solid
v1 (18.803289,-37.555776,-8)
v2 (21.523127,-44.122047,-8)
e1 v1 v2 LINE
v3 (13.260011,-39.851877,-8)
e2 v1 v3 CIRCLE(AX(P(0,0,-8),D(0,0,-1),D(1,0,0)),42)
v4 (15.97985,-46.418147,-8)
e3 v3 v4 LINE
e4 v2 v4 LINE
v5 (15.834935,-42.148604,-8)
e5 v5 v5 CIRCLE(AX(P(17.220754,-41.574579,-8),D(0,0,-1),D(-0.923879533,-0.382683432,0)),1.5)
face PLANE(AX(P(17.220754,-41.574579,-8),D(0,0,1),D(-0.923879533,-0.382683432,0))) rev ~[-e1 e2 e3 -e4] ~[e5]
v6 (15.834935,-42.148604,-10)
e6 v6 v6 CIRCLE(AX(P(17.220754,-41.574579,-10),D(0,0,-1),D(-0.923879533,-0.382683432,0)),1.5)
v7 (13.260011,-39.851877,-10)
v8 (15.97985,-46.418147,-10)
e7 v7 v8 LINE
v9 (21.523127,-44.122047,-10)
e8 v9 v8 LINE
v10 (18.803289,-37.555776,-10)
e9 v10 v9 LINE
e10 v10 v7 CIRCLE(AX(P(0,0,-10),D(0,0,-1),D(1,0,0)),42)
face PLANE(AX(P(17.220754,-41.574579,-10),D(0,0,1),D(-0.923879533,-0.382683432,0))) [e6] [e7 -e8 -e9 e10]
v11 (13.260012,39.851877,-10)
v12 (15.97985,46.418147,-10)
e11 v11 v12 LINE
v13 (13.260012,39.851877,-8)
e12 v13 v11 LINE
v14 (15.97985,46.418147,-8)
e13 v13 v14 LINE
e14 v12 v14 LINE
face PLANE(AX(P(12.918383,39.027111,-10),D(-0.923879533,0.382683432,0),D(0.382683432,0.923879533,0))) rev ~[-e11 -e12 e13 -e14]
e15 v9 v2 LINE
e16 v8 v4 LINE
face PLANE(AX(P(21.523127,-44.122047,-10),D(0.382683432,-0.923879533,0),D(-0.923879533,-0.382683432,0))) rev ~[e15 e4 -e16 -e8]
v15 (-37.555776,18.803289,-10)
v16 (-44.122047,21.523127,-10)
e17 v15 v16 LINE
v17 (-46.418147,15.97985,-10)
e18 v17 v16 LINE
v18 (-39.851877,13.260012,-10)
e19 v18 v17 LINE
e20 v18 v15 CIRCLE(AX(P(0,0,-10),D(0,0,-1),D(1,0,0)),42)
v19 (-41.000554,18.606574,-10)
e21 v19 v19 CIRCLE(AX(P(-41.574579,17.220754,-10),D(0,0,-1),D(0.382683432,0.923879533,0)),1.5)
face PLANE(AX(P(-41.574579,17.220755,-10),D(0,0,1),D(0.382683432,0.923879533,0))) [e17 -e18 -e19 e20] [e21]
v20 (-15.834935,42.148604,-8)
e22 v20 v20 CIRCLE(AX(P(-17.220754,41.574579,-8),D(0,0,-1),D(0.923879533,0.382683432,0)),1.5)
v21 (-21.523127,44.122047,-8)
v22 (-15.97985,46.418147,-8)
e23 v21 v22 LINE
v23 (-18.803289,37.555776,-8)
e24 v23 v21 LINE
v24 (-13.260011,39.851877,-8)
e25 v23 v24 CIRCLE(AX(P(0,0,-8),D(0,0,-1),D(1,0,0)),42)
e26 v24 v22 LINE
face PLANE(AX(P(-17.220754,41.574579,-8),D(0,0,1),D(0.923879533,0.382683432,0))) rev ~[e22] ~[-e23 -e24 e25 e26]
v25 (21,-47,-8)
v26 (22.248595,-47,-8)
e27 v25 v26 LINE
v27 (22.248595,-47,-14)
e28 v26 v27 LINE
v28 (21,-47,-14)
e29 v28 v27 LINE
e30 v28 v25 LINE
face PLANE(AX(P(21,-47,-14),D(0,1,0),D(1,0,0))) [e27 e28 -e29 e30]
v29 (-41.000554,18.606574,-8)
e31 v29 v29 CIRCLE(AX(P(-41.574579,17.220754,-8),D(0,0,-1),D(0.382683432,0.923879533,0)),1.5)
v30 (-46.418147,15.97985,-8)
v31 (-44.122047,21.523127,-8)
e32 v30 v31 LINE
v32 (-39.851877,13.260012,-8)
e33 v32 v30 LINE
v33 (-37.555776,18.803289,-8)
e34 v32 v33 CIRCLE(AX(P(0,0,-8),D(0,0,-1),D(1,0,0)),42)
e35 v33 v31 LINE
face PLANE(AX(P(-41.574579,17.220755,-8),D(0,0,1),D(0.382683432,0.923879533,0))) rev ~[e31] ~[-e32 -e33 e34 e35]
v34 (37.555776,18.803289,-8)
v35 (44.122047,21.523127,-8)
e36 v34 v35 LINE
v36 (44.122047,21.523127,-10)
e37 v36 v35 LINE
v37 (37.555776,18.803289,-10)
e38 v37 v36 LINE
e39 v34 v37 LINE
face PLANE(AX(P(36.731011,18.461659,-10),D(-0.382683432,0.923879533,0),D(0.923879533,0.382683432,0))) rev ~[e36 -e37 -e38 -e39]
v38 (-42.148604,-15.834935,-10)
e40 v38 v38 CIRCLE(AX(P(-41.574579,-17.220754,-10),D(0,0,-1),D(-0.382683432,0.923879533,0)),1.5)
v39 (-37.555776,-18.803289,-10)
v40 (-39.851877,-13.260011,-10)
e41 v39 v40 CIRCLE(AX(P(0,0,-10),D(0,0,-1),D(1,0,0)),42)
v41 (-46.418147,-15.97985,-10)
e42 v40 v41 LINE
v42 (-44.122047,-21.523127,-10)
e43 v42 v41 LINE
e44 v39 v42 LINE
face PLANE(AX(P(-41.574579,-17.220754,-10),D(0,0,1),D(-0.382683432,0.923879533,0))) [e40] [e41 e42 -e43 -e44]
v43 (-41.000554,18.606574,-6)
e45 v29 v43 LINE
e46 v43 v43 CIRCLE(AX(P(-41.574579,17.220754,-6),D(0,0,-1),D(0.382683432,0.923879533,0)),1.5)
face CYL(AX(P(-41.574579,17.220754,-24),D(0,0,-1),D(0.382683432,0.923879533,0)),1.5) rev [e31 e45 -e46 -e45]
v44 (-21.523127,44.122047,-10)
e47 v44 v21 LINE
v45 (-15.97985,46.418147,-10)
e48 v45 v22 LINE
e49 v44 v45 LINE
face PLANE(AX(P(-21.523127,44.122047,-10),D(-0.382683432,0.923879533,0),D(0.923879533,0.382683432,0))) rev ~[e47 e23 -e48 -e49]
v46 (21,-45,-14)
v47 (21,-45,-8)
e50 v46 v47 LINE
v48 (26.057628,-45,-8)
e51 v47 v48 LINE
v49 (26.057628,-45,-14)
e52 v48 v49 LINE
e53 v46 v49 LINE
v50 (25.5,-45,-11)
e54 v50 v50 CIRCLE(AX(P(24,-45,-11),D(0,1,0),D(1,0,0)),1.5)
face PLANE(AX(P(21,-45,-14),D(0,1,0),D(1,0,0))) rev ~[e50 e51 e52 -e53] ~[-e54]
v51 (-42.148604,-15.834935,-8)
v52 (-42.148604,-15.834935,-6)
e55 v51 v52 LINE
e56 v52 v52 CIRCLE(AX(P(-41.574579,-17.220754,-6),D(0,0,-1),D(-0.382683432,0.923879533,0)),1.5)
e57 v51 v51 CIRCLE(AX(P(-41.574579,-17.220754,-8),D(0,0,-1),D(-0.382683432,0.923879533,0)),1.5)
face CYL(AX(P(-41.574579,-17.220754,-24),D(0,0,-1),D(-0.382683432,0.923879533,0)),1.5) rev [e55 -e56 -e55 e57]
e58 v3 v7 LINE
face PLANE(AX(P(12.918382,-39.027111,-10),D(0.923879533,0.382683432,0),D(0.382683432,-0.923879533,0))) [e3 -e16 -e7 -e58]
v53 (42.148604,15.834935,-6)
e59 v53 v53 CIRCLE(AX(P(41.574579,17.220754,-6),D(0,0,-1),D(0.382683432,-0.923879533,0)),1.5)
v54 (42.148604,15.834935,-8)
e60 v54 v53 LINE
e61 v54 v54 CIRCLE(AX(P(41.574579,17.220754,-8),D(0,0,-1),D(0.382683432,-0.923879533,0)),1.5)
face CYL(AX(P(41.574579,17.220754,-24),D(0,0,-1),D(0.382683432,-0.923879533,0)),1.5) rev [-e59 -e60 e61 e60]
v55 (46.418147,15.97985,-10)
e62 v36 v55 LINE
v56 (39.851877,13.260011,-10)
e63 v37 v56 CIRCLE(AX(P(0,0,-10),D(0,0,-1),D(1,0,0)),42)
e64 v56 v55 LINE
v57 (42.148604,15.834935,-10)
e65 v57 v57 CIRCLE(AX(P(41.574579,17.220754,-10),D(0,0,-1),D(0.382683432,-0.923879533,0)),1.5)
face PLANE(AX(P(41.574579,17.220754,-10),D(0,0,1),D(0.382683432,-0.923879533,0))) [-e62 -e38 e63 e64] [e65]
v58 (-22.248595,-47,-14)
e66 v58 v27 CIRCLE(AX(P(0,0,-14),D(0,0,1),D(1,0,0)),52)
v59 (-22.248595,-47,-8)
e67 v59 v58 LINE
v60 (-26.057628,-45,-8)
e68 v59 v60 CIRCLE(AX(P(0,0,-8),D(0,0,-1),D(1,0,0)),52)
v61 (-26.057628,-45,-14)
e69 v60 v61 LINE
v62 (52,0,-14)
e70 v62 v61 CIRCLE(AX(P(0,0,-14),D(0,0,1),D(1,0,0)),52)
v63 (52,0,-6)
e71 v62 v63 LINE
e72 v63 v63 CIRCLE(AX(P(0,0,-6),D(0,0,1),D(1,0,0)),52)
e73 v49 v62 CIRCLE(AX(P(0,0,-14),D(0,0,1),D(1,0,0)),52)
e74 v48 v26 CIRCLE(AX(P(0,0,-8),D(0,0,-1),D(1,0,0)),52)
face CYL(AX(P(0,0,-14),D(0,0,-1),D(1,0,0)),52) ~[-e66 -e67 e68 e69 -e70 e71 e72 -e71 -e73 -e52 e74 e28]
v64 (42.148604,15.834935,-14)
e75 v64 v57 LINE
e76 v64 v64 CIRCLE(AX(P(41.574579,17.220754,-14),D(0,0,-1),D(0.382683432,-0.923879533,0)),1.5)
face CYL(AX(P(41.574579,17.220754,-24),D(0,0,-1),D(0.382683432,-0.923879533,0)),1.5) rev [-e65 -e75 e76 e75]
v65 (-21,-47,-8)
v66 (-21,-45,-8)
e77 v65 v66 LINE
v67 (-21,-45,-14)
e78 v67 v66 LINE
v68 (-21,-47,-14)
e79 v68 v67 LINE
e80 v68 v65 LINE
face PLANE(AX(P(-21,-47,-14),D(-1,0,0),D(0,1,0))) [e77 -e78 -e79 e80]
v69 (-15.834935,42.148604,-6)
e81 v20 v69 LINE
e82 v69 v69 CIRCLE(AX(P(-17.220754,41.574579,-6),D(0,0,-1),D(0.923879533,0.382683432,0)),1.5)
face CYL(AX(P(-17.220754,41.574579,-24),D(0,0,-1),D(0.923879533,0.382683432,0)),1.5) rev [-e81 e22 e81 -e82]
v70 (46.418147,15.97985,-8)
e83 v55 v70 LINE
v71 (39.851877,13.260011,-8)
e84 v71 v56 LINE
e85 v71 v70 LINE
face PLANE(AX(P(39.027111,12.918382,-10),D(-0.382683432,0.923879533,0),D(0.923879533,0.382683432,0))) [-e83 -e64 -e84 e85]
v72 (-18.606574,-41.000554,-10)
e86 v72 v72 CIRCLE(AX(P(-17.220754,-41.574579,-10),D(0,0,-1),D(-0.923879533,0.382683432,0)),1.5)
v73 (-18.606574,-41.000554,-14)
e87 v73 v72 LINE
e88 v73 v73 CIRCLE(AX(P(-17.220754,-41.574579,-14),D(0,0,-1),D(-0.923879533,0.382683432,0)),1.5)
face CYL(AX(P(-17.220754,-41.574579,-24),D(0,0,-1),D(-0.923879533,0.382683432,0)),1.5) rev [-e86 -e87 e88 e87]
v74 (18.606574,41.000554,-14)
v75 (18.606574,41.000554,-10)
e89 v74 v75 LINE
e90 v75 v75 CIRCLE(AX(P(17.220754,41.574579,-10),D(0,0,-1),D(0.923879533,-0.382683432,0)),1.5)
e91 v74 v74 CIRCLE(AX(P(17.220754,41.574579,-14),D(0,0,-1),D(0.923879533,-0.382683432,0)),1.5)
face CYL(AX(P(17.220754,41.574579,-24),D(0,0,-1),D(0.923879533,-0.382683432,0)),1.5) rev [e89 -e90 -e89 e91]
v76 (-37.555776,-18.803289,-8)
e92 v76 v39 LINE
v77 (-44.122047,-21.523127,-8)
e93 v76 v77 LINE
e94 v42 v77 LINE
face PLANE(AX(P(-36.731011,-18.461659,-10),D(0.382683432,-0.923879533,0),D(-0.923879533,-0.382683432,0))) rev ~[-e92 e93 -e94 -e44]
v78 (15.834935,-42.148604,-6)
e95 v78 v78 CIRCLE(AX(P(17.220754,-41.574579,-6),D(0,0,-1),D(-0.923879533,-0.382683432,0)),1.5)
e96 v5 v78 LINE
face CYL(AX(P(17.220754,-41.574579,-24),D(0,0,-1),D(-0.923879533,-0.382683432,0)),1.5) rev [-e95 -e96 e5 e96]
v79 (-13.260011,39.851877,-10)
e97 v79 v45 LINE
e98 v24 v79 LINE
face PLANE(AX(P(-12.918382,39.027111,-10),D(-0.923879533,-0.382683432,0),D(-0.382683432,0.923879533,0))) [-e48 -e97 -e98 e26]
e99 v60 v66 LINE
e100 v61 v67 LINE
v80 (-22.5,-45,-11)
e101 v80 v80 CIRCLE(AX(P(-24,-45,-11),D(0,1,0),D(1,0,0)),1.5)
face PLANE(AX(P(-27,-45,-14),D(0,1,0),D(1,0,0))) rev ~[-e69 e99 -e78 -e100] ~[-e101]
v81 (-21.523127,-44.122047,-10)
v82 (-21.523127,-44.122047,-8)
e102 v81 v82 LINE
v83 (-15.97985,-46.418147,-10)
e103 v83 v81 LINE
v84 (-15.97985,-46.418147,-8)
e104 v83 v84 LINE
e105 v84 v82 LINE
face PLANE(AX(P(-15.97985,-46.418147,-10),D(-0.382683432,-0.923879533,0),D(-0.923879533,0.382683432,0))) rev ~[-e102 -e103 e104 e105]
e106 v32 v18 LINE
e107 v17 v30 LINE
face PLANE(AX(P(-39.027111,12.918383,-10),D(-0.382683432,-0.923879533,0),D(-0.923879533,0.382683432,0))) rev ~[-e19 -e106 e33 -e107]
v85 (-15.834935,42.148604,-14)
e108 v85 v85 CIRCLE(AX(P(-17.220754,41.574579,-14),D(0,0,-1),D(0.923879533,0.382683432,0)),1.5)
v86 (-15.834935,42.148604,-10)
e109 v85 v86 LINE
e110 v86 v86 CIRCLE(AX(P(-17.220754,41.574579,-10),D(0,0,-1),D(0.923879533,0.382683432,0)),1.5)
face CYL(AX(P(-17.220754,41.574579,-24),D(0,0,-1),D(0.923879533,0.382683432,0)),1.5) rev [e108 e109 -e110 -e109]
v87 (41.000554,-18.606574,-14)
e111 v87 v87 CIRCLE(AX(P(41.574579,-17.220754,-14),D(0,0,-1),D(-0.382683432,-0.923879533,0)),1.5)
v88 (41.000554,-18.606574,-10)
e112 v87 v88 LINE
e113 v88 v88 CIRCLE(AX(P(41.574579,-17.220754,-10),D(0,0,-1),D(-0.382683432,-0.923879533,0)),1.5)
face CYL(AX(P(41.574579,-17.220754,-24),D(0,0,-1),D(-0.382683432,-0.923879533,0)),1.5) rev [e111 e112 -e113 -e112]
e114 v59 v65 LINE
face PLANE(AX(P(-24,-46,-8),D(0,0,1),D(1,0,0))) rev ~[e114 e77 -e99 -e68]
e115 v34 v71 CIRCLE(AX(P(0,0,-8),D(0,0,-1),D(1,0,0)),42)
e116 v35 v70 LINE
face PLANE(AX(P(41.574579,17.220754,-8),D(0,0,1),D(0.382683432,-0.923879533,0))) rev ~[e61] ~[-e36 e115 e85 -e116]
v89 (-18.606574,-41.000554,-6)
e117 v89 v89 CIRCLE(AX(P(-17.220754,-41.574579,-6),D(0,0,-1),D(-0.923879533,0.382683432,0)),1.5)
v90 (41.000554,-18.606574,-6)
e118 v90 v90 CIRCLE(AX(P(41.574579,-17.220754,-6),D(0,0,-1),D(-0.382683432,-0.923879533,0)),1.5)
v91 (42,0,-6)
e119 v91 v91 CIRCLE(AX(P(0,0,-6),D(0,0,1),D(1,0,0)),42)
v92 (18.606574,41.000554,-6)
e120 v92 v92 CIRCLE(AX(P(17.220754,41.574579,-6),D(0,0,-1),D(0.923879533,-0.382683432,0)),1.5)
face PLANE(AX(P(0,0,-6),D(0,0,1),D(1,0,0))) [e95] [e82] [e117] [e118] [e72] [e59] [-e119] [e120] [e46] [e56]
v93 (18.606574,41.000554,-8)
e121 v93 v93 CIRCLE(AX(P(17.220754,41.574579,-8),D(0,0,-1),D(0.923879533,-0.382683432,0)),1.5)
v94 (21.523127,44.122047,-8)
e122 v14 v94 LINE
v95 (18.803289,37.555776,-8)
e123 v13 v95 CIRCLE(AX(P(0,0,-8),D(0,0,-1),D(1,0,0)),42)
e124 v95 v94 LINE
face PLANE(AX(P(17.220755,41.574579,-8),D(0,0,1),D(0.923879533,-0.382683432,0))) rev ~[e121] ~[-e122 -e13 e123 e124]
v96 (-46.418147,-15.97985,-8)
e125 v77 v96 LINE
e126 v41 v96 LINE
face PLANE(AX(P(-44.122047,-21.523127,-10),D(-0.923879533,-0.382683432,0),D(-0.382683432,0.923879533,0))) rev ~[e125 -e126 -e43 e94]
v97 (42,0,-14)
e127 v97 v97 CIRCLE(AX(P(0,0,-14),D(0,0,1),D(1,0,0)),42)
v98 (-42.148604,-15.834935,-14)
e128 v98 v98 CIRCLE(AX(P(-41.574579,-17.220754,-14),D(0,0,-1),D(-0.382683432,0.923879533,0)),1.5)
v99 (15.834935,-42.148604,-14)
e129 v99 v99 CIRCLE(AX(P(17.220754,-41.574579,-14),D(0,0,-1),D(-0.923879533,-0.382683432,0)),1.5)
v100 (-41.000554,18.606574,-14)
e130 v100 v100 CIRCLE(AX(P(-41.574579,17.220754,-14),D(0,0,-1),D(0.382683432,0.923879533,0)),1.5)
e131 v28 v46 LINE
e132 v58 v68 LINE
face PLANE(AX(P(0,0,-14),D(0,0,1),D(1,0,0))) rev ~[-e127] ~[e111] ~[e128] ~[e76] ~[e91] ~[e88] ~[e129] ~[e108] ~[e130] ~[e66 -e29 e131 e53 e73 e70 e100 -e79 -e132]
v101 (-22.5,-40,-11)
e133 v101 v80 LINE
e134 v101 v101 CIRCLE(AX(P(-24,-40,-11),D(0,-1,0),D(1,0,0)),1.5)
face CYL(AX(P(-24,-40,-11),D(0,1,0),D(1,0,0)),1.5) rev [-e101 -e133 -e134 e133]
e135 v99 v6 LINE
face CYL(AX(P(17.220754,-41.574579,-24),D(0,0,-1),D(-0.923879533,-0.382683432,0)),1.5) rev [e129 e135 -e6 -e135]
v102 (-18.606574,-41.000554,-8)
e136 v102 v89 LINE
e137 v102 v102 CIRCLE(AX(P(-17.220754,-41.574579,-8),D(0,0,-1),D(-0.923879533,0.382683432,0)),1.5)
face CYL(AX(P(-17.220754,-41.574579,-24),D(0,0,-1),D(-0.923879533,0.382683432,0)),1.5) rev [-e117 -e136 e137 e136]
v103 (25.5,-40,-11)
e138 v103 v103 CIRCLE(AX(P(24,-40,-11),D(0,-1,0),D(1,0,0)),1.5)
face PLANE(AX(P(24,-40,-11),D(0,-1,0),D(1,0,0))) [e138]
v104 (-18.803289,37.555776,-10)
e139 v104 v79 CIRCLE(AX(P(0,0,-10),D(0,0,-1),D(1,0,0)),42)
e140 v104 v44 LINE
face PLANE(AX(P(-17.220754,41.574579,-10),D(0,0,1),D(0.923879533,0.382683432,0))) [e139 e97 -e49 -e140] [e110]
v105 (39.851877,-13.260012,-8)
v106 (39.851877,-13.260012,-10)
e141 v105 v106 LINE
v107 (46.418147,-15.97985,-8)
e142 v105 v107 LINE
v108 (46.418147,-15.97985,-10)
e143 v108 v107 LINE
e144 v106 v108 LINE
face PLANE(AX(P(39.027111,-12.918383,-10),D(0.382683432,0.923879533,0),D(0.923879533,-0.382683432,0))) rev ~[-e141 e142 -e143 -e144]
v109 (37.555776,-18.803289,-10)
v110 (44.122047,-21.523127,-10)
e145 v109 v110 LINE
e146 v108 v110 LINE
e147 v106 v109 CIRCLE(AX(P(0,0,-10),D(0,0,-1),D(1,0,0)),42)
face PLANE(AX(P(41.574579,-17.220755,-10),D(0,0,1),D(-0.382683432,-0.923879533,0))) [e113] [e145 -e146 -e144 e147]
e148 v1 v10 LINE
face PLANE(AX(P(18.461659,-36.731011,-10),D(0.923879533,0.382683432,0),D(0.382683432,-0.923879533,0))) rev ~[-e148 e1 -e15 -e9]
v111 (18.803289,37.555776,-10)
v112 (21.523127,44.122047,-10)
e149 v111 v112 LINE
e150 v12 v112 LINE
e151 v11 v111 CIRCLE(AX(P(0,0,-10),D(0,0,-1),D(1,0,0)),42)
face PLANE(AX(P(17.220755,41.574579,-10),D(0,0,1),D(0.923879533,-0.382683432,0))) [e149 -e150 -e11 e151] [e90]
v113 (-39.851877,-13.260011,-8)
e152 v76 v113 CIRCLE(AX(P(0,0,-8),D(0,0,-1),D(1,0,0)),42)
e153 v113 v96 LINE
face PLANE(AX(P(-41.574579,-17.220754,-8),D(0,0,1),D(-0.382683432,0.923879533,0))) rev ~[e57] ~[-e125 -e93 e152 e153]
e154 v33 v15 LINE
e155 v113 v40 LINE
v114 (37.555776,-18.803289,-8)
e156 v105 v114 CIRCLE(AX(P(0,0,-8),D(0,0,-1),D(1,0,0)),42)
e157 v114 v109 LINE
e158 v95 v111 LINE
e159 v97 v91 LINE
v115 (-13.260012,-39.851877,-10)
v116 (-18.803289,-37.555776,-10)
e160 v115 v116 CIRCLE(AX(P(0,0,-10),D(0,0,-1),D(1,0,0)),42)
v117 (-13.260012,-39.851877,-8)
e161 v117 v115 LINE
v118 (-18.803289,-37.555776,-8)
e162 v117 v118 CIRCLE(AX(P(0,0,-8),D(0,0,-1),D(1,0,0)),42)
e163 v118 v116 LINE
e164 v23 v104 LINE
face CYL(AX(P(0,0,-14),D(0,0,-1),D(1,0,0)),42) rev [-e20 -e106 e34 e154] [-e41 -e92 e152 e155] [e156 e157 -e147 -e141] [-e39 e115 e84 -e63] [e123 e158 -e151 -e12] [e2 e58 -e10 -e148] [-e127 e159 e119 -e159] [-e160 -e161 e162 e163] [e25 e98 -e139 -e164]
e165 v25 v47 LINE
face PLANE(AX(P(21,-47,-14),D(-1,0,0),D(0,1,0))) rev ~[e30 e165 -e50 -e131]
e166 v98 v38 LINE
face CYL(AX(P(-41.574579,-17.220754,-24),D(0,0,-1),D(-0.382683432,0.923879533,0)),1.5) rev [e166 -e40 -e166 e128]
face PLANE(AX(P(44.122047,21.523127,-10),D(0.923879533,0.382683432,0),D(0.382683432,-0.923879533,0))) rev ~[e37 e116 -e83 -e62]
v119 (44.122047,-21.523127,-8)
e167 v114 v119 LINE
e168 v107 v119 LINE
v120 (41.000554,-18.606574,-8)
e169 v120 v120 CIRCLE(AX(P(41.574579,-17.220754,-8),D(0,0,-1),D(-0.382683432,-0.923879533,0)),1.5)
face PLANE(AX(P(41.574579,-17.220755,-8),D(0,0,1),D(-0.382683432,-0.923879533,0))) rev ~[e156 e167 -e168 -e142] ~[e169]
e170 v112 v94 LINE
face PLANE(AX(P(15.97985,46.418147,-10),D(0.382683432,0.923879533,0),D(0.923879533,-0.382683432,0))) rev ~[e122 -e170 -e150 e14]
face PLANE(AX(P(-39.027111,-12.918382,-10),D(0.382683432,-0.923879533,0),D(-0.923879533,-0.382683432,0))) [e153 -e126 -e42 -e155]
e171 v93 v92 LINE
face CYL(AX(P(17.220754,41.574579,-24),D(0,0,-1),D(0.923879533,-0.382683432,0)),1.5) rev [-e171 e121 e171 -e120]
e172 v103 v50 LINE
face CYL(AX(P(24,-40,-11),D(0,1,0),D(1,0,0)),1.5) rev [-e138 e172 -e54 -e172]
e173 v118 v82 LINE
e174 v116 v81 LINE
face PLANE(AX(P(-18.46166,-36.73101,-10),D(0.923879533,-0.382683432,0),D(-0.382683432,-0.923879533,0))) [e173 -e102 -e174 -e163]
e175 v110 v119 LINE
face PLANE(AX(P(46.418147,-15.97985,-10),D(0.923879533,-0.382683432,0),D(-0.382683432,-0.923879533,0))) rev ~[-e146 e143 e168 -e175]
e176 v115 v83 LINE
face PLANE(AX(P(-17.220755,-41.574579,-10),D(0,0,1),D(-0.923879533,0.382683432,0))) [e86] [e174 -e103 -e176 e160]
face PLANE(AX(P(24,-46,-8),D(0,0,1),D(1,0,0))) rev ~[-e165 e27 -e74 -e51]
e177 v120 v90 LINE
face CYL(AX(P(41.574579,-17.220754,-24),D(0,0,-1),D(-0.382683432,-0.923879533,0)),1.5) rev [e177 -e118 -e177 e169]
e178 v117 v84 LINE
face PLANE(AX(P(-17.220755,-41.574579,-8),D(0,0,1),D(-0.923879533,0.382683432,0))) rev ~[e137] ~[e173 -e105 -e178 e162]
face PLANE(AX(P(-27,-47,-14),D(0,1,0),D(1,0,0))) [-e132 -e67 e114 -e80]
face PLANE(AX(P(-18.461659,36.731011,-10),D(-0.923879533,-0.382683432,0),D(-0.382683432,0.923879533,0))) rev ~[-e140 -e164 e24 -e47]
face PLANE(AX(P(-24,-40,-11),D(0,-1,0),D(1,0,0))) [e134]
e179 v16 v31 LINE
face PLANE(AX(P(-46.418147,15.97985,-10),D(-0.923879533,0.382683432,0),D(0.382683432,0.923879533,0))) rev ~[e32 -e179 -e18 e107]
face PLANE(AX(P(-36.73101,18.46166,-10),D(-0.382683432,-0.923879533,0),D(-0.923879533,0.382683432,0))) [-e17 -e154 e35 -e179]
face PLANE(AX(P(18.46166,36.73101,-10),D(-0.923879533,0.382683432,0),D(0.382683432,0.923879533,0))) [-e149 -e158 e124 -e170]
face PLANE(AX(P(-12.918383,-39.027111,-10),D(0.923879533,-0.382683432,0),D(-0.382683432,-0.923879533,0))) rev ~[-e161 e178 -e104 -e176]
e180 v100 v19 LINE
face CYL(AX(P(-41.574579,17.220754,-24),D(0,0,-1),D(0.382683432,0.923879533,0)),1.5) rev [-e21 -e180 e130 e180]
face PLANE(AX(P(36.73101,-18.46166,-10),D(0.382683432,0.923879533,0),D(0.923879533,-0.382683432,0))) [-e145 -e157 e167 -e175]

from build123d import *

# Parameters (mm, degrees)
CYLINDER1382_R               = 1.5
CYLINDER1382_DEPTH           = 20
CYLINDER1382_PLACEMENT_ANGLE = 45
CYLINDER1378_R               = 1.5
CYLINDER1378_DEPTH           = 20
CYLINDER1379_R               = 1.5
CYLINDER1379_DEPTH           = 20
CYLINDER1379_PLACEMENT_ANGLE = 135
CYLINDER1377_R               = 1.5
CYLINDER1377_DEPTH           = 20
CYLINDER1383_R               = 1.5
CYLINDER1383_DEPTH           = 20
CYLINDER1383_PLACEMENT_ANGLE = 225
CYLINDER1380_R               = 1.5
CYLINDER1380_DEPTH           = 20
CYLINDER1381_R               = 1.5
CYLINDER1381_DEPTH           = 20
CYLINDER1381_PLACEMENT_ANGLE = 45
CYLINDER1373_R               = 1.5
CYLINDER1373_DEPTH           = 20
COMPOUND872_PLACEMENT_ANGLE  = 22.5
BOX503_W                     = 6
BOX503_H                     = 8
BOX503_DEPTH                 = 2
BOX503_PLACEMENT_ANGLE       = 45
BOX500_W                     = 6
BOX500_H                     = 8
BOX500_DEPTH                 = 2
BOX509_W                     = 6
BOX509_H                     = 8
BOX509_DEPTH                 = 2
BOX509_PLACEMENT_ANGLE       = 135
BOX498_W                     = 6
BOX498_H                     = 8
BOX498_DEPTH                 = 2
BOX505_W                     = 6
BOX505_H                     = 8
BOX505_DEPTH                 = 2
BOX505_PLACEMENT_ANGLE       = 225
BOX501_W                     = 6
BOX501_H                     = 8
BOX501_DEPTH                 = 2
BOX508_W                     = 6
BOX508_H                     = 8
BOX508_DEPTH                 = 2
BOX508_PLACEMENT_ANGLE       = 45
BOX502_W                     = 6
BOX502_H                     = 8
BOX502_DEPTH                 = 2
COMPOUND873_PLACEMENT_ANGLE  = 22.5
CYLINDER1376_R               = 1.5
CYLINDER1376_DEPTH           = 20
CYLINDER1372_R               = 1.5
CYLINDER1372_DEPTH           = 20
CYLINDER1375_R               = 1.5
CYLINDER1375_DEPTH           = 20
CYLINDER1374_R               = 1.5
CYLINDER1374_DEPTH           = 20
BOX507_W                     = 6
BOX507_H                     = 2
BOX507_DEPTH                 = 6
BOX499_W                     = 6
BOX499_H                     = 2
BOX499_DEPTH                 = 6
BOX506_W                     = 6
BOX506_H                     = 2
BOX506_DEPTH                 = 6
BOX504_W                     = 6
BOX504_H                     = 2
BOX504_DEPTH                 = 6
TUBE091_R                    = 52
TUBE091_R_2                  = 42
TUBE091_DEPTH                = 8


with BuildPart() as v_lec1382:
    # Cylinder1382 → Cylinder1382 (new body)
    with BuildSketch(Plane.XY):
        Circle(CYLINDER1382_R)
    extrude(amount=CYLINDER1382_DEPTH)


with BuildPart() as v_lec1382_1:
    # Cylinder1382 placement: moved
    add(v_lec1382.part.moved(Location((-31.819805, 31.819805, -18))).rotate(Axis((-31.819805, 31.819805, -18), (0, 0, 1)), CYLINDER1382_PLACEMENT_ANGLE))


with BuildPart() as v_lec1378:
    # Cylinder1378 → Cylinder1378 (new body)
    with BuildSketch(Plane(origin=(-45, 0, -18), x_dir=(0, 1, 0), z_dir=(0, 0, 1))):
        Circle(CYLINDER1378_R)
    extrude(amount=CYLINDER1378_DEPTH)


with BuildPart() as v_lec1379:
    # Cylinder1379 → Cylinder1379 (new body)
    with BuildSketch(Plane.XY):
        Circle(CYLINDER1379_R)
    extrude(amount=CYLINDER1379_DEPTH)


with BuildPart() as v_lec1379_1:
    # Cylinder1379 placement: moved
    add(v_lec1379.part.moved(Location((-31.819805, -31.819805, -18))).rotate(Axis((-31.819805, -31.819805, -18), (0, 0, 1)), CYLINDER1379_PLACEMENT_ANGLE))


with BuildPart() as v_lec1377:
    # Cylinder1377 → Cylinder1377 (new body)
    with BuildSketch(Plane(origin=(0, -45, -18), x_dir=(-1, 0, 0), z_dir=(0, 0, 1))):
        Circle(CYLINDER1377_R)
    extrude(amount=CYLINDER1377_DEPTH)


with BuildPart() as v_lec1383:
    # Cylinder1383 → Cylinder1383 (new body)
    with BuildSketch(Plane.XY):
        Circle(CYLINDER1383_R)
    extrude(amount=CYLINDER1383_DEPTH)


with BuildPart() as v_lec1383_1:
    # Cylinder1383 placement: moved
    add(v_lec1383.part.moved(Location((31.819805, -31.819805, -18))).rotate(Axis((31.819805, -31.819805, -18), (0, 0, 1)), CYLINDER1383_PLACEMENT_ANGLE))


with BuildPart() as v_lec1380:
    # Cylinder1380 → Cylinder1380 (new body)
    with BuildSketch(Plane(origin=(45, 0, -18), x_dir=(0, -1, 0), z_dir=(0, 0, 1))):
        Circle(CYLINDER1380_R)
    extrude(amount=CYLINDER1380_DEPTH)


with BuildPart() as v_lec1381:
    # Cylinder1381 → Cylinder1381 (new body)
    with BuildSketch(Plane.XY):
        Circle(CYLINDER1381_R)
    extrude(amount=CYLINDER1381_DEPTH)


with BuildPart() as v_lec1381_1:
    # Cylinder1381 placement: moved
    add(v_lec1381.part.moved(Location((31.819805, 31.819805, -18))).rotate(Axis((31.819805, 31.819805, -18), (0, 0, -1)), CYLINDER1381_PLACEMENT_ANGLE))


with BuildPart() as compound872:
    # Cylinder1373 → Cylinder1373 (new body)
    with BuildSketch(Plane(origin=(0, 45, -18), x_dir=(1, 0, 0), z_dir=(0, 0, 1))):
        Circle(CYLINDER1373_R)
    extrude(amount=CYLINDER1373_DEPTH)

    # Compound872: union Válec1382, Válec1378, Válec1379, Válec1377, Válec1383, Válec1380, Válec1381
    add(v_lec1382_1.part)
    add(v_lec1378.part)
    add(v_lec1379_1.part)
    add(v_lec1377.part)
    add(v_lec1383_1.part)
    add(v_lec1380.part)
    add(v_lec1381_1.part)


with BuildPart() as compound872_1:
    # Compound872 placement: moved
    add(compound872.part.rotate(Axis((0, 0, 0), (0, 0, 1)), COMPOUND872_PLACEMENT_ANGLE))


with BuildPart() as krychle503:
    # Box503 → Box503 (new body)
    with BuildSketch(Plane.XY):
        with Locations((3, 4)):
            Rectangle(BOX503_W, BOX503_H)
    extrude(amount=BOX503_DEPTH)


with BuildPart() as krychle503_1:
    # Box503 placement: moved
    add(krychle503.part.moved(Location((-31.112698, 26.870058, -4))).rotate(Axis((-31.112698, 26.870058, -4), (0, 0, 1)), BOX503_PLACEMENT_ANGLE))


with BuildPart() as krychle500:
    # Box500 → Box500 (new body)
    with BuildSketch(Plane(origin=(-41, -3, -4), x_dir=(0, 1, 0), z_dir=(0, 0, 1))):
        with Locations((3, 4)):
            Rectangle(BOX500_W, BOX500_H)
    extrude(amount=BOX500_DEPTH)


with BuildPart() as krychle509:
    # Box509 → Box509 (new body)
    with BuildSketch(Plane.XY):
        with Locations((3, 4)):
            Rectangle(BOX509_W, BOX509_H)
    extrude(amount=BOX509_DEPTH)


with BuildPart() as krychle509_1:
    # Box509 placement: moved
    add(krychle509.part.moved(Location((-26.870058, -31.112698, -4))).rotate(Axis((-26.870058, -31.112698, -4), (0, 0, 1)), BOX509_PLACEMENT_ANGLE))


with BuildPart() as krychle498:
    # Box498 → Box498 (new body)
    with BuildSketch(Plane(origin=(3, -41, -4), x_dir=(-1, 0, 0), z_dir=(0, 0, 1))):
        with Locations((3, 4)):
            Rectangle(BOX498_W, BOX498_H)
    extrude(amount=BOX498_DEPTH)


with BuildPart() as krychle505:
    # Box505 → Box505 (new body)
    with BuildSketch(Plane.XY):
        with Locations((3, 4)):
            Rectangle(BOX505_W, BOX505_H)
    extrude(amount=BOX505_DEPTH)


with BuildPart() as krychle505_1:
    # Box505 placement: moved
    add(krychle505.part.moved(Location((31.112698, -26.870058, -4))).rotate(Axis((31.112698, -26.870058, -4), (0, 0, 1)), BOX505_PLACEMENT_ANGLE))


with BuildPart() as krychle501:
    # Box501 → Box501 (new body)
    with BuildSketch(Plane(origin=(41, 3, -4), x_dir=(0, -1, 0), z_dir=(0, 0, 1))):
        with Locations((3, 4)):
            Rectangle(BOX501_W, BOX501_H)
    extrude(amount=BOX501_DEPTH)


with BuildPart() as krychle508:
    # Box508 → Box508 (new body)
    with BuildSketch(Plane.XY):
        with Locations((3, 4)):
            Rectangle(BOX508_W, BOX508_H)
    extrude(amount=BOX508_DEPTH)


with BuildPart() as krychle508_1:
    # Box508 placement: moved
    add(krychle508.part.moved(Location((26.870058, 31.112698, -4))).rotate(Axis((26.870058, 31.112698, -4), (0, 0, -1)), BOX508_PLACEMENT_ANGLE))


with BuildPart() as compound873:
    # Box502 → Box502 (new body)
    with BuildSketch(Plane(origin=(-3, 41, -4), x_dir=(1, 0, 0), z_dir=(0, 0, 1))):
        with Locations((3, 4)):
            Rectangle(BOX502_W, BOX502_H)
    extrude(amount=BOX502_DEPTH)

    # Compound873: union Krychle503, Krychle500, Krychle509, Krychle498, Krychle505, Krychle501, Krychle508
    add(krychle503_1.part)
    add(krychle500.part)
    add(krychle509_1.part)
    add(krychle498.part)
    add(krychle505_1.part)
    add(krychle501.part)
    add(krychle508_1.part)


with BuildPart() as compound873_1:
    # Compound873 placement: moved
    add(compound873.part.rotate(Axis((0, 0, 0), (0, 0, 1)), COMPOUND873_PLACEMENT_ANGLE))


with BuildPart() as v_lec1376:
    # Cylinder1376 → Cylinder1376 (new body)
    with BuildSketch(Plane(origin=(24, -40, -5), x_dir=(1, 0, 0), z_dir=(0, -1, 0))):
        Circle(CYLINDER1376_R)
    extrude(amount=CYLINDER1376_DEPTH)


with BuildPart() as v_lec1372:
    # Cylinder1372 → Cylinder1372 (new body)
    with BuildSketch(Plane(origin=(51, -40, 7), x_dir=(1, 0, 0), z_dir=(0, -1, 0))):
        Circle(CYLINDER1372_R)
    extrude(amount=CYLINDER1372_DEPTH)


with BuildPart() as v_lec1375:
    # Cylinder1375 → Cylinder1375 (new body)
    with BuildSketch(Plane(origin=(-51, -40, 7), x_dir=(1, 0, 0), z_dir=(0, -1, 0))):
        Circle(CYLINDER1375_R)
    extrude(amount=CYLINDER1375_DEPTH)


with BuildPart() as compound875:
    # Cylinder1374 → Cylinder1374 (new body)
    with BuildSketch(Plane(origin=(-24, -40, -5), x_dir=(1, 0, 0), z_dir=(0, -1, 0))):
        Circle(CYLINDER1374_R)
    extrude(amount=CYLINDER1374_DEPTH)

    # Compound875: union Válec1376, Válec1372, Válec1375
    add(v_lec1376.part)
    add(v_lec1372.part)
    add(v_lec1375.part)


with BuildPart() as krychle507:
    # Box507 → Box507 (new body)
    with BuildSketch(Plane(origin=(21, -47, -8), x_dir=(1, 0, 0), z_dir=(0, 0, 1))):
        with Locations((3, 1)):
            Rectangle(BOX507_W, BOX507_H)
    extrude(amount=BOX507_DEPTH)


with BuildPart() as krychle499:
    # Box499 → Box499 (new body)
    with BuildSketch(Plane(origin=(48, -45, 4), x_dir=(1, 0, 0), z_dir=(0, 0, 1))):
        with Locations((3, 1)):
            Rectangle(BOX499_W, BOX499_H)
    extrude(amount=BOX499_DEPTH)


with BuildPart() as krychle506:
    # Box506 → Box506 (new body)
    with BuildSketch(Plane(origin=(-54, -45, 4), x_dir=(1, 0, 0), z_dir=(0, 0, 1))):
        with Locations((3, 1)):
            Rectangle(BOX506_W, BOX506_H)
    extrude(amount=BOX506_DEPTH)


with BuildPart() as compound874:
    # Box504 → Box504 (new body)
    with BuildSketch(Plane(origin=(-27, -47, -8), x_dir=(1, 0, 0), z_dir=(0, 0, 1))):
        with Locations((3, 1)):
            Rectangle(BOX504_W, BOX504_H)
    extrude(amount=BOX504_DEPTH)

    # Compound874: union Krychle507, Krychle499, Krychle506
    add(krychle507.part)
    add(krychle499.part)
    add(krychle506.part)


with BuildPart() as cut491:
    # Tube091 → Tube091 (new body)
    with BuildSketch(Plane.XY.offset(-8)):
        Circle(TUBE091_R)
        Circle(TUBE091_R_2, mode=Mode.SUBTRACT)
    extrude(amount=TUBE091_DEPTH)

    # Cut494: cut Compound874
    add(compound874.part, mode=Mode.SUBTRACT)

    # Cut492: cut Compound875
    add(compound875.part, mode=Mode.SUBTRACT)

    # Cut493: cut Compound873
    add(compound873_1.part, mode=Mode.SUBTRACT)

    # Cut491: cut Compound872
    add(compound872_1.part, mode=Mode.SUBTRACT)


with BuildPart() as cut491_1:
    # Cut491 placement: moved
    add(cut491.part.moved(Location((0, 0, -6))))


solid = cut491_1.part
